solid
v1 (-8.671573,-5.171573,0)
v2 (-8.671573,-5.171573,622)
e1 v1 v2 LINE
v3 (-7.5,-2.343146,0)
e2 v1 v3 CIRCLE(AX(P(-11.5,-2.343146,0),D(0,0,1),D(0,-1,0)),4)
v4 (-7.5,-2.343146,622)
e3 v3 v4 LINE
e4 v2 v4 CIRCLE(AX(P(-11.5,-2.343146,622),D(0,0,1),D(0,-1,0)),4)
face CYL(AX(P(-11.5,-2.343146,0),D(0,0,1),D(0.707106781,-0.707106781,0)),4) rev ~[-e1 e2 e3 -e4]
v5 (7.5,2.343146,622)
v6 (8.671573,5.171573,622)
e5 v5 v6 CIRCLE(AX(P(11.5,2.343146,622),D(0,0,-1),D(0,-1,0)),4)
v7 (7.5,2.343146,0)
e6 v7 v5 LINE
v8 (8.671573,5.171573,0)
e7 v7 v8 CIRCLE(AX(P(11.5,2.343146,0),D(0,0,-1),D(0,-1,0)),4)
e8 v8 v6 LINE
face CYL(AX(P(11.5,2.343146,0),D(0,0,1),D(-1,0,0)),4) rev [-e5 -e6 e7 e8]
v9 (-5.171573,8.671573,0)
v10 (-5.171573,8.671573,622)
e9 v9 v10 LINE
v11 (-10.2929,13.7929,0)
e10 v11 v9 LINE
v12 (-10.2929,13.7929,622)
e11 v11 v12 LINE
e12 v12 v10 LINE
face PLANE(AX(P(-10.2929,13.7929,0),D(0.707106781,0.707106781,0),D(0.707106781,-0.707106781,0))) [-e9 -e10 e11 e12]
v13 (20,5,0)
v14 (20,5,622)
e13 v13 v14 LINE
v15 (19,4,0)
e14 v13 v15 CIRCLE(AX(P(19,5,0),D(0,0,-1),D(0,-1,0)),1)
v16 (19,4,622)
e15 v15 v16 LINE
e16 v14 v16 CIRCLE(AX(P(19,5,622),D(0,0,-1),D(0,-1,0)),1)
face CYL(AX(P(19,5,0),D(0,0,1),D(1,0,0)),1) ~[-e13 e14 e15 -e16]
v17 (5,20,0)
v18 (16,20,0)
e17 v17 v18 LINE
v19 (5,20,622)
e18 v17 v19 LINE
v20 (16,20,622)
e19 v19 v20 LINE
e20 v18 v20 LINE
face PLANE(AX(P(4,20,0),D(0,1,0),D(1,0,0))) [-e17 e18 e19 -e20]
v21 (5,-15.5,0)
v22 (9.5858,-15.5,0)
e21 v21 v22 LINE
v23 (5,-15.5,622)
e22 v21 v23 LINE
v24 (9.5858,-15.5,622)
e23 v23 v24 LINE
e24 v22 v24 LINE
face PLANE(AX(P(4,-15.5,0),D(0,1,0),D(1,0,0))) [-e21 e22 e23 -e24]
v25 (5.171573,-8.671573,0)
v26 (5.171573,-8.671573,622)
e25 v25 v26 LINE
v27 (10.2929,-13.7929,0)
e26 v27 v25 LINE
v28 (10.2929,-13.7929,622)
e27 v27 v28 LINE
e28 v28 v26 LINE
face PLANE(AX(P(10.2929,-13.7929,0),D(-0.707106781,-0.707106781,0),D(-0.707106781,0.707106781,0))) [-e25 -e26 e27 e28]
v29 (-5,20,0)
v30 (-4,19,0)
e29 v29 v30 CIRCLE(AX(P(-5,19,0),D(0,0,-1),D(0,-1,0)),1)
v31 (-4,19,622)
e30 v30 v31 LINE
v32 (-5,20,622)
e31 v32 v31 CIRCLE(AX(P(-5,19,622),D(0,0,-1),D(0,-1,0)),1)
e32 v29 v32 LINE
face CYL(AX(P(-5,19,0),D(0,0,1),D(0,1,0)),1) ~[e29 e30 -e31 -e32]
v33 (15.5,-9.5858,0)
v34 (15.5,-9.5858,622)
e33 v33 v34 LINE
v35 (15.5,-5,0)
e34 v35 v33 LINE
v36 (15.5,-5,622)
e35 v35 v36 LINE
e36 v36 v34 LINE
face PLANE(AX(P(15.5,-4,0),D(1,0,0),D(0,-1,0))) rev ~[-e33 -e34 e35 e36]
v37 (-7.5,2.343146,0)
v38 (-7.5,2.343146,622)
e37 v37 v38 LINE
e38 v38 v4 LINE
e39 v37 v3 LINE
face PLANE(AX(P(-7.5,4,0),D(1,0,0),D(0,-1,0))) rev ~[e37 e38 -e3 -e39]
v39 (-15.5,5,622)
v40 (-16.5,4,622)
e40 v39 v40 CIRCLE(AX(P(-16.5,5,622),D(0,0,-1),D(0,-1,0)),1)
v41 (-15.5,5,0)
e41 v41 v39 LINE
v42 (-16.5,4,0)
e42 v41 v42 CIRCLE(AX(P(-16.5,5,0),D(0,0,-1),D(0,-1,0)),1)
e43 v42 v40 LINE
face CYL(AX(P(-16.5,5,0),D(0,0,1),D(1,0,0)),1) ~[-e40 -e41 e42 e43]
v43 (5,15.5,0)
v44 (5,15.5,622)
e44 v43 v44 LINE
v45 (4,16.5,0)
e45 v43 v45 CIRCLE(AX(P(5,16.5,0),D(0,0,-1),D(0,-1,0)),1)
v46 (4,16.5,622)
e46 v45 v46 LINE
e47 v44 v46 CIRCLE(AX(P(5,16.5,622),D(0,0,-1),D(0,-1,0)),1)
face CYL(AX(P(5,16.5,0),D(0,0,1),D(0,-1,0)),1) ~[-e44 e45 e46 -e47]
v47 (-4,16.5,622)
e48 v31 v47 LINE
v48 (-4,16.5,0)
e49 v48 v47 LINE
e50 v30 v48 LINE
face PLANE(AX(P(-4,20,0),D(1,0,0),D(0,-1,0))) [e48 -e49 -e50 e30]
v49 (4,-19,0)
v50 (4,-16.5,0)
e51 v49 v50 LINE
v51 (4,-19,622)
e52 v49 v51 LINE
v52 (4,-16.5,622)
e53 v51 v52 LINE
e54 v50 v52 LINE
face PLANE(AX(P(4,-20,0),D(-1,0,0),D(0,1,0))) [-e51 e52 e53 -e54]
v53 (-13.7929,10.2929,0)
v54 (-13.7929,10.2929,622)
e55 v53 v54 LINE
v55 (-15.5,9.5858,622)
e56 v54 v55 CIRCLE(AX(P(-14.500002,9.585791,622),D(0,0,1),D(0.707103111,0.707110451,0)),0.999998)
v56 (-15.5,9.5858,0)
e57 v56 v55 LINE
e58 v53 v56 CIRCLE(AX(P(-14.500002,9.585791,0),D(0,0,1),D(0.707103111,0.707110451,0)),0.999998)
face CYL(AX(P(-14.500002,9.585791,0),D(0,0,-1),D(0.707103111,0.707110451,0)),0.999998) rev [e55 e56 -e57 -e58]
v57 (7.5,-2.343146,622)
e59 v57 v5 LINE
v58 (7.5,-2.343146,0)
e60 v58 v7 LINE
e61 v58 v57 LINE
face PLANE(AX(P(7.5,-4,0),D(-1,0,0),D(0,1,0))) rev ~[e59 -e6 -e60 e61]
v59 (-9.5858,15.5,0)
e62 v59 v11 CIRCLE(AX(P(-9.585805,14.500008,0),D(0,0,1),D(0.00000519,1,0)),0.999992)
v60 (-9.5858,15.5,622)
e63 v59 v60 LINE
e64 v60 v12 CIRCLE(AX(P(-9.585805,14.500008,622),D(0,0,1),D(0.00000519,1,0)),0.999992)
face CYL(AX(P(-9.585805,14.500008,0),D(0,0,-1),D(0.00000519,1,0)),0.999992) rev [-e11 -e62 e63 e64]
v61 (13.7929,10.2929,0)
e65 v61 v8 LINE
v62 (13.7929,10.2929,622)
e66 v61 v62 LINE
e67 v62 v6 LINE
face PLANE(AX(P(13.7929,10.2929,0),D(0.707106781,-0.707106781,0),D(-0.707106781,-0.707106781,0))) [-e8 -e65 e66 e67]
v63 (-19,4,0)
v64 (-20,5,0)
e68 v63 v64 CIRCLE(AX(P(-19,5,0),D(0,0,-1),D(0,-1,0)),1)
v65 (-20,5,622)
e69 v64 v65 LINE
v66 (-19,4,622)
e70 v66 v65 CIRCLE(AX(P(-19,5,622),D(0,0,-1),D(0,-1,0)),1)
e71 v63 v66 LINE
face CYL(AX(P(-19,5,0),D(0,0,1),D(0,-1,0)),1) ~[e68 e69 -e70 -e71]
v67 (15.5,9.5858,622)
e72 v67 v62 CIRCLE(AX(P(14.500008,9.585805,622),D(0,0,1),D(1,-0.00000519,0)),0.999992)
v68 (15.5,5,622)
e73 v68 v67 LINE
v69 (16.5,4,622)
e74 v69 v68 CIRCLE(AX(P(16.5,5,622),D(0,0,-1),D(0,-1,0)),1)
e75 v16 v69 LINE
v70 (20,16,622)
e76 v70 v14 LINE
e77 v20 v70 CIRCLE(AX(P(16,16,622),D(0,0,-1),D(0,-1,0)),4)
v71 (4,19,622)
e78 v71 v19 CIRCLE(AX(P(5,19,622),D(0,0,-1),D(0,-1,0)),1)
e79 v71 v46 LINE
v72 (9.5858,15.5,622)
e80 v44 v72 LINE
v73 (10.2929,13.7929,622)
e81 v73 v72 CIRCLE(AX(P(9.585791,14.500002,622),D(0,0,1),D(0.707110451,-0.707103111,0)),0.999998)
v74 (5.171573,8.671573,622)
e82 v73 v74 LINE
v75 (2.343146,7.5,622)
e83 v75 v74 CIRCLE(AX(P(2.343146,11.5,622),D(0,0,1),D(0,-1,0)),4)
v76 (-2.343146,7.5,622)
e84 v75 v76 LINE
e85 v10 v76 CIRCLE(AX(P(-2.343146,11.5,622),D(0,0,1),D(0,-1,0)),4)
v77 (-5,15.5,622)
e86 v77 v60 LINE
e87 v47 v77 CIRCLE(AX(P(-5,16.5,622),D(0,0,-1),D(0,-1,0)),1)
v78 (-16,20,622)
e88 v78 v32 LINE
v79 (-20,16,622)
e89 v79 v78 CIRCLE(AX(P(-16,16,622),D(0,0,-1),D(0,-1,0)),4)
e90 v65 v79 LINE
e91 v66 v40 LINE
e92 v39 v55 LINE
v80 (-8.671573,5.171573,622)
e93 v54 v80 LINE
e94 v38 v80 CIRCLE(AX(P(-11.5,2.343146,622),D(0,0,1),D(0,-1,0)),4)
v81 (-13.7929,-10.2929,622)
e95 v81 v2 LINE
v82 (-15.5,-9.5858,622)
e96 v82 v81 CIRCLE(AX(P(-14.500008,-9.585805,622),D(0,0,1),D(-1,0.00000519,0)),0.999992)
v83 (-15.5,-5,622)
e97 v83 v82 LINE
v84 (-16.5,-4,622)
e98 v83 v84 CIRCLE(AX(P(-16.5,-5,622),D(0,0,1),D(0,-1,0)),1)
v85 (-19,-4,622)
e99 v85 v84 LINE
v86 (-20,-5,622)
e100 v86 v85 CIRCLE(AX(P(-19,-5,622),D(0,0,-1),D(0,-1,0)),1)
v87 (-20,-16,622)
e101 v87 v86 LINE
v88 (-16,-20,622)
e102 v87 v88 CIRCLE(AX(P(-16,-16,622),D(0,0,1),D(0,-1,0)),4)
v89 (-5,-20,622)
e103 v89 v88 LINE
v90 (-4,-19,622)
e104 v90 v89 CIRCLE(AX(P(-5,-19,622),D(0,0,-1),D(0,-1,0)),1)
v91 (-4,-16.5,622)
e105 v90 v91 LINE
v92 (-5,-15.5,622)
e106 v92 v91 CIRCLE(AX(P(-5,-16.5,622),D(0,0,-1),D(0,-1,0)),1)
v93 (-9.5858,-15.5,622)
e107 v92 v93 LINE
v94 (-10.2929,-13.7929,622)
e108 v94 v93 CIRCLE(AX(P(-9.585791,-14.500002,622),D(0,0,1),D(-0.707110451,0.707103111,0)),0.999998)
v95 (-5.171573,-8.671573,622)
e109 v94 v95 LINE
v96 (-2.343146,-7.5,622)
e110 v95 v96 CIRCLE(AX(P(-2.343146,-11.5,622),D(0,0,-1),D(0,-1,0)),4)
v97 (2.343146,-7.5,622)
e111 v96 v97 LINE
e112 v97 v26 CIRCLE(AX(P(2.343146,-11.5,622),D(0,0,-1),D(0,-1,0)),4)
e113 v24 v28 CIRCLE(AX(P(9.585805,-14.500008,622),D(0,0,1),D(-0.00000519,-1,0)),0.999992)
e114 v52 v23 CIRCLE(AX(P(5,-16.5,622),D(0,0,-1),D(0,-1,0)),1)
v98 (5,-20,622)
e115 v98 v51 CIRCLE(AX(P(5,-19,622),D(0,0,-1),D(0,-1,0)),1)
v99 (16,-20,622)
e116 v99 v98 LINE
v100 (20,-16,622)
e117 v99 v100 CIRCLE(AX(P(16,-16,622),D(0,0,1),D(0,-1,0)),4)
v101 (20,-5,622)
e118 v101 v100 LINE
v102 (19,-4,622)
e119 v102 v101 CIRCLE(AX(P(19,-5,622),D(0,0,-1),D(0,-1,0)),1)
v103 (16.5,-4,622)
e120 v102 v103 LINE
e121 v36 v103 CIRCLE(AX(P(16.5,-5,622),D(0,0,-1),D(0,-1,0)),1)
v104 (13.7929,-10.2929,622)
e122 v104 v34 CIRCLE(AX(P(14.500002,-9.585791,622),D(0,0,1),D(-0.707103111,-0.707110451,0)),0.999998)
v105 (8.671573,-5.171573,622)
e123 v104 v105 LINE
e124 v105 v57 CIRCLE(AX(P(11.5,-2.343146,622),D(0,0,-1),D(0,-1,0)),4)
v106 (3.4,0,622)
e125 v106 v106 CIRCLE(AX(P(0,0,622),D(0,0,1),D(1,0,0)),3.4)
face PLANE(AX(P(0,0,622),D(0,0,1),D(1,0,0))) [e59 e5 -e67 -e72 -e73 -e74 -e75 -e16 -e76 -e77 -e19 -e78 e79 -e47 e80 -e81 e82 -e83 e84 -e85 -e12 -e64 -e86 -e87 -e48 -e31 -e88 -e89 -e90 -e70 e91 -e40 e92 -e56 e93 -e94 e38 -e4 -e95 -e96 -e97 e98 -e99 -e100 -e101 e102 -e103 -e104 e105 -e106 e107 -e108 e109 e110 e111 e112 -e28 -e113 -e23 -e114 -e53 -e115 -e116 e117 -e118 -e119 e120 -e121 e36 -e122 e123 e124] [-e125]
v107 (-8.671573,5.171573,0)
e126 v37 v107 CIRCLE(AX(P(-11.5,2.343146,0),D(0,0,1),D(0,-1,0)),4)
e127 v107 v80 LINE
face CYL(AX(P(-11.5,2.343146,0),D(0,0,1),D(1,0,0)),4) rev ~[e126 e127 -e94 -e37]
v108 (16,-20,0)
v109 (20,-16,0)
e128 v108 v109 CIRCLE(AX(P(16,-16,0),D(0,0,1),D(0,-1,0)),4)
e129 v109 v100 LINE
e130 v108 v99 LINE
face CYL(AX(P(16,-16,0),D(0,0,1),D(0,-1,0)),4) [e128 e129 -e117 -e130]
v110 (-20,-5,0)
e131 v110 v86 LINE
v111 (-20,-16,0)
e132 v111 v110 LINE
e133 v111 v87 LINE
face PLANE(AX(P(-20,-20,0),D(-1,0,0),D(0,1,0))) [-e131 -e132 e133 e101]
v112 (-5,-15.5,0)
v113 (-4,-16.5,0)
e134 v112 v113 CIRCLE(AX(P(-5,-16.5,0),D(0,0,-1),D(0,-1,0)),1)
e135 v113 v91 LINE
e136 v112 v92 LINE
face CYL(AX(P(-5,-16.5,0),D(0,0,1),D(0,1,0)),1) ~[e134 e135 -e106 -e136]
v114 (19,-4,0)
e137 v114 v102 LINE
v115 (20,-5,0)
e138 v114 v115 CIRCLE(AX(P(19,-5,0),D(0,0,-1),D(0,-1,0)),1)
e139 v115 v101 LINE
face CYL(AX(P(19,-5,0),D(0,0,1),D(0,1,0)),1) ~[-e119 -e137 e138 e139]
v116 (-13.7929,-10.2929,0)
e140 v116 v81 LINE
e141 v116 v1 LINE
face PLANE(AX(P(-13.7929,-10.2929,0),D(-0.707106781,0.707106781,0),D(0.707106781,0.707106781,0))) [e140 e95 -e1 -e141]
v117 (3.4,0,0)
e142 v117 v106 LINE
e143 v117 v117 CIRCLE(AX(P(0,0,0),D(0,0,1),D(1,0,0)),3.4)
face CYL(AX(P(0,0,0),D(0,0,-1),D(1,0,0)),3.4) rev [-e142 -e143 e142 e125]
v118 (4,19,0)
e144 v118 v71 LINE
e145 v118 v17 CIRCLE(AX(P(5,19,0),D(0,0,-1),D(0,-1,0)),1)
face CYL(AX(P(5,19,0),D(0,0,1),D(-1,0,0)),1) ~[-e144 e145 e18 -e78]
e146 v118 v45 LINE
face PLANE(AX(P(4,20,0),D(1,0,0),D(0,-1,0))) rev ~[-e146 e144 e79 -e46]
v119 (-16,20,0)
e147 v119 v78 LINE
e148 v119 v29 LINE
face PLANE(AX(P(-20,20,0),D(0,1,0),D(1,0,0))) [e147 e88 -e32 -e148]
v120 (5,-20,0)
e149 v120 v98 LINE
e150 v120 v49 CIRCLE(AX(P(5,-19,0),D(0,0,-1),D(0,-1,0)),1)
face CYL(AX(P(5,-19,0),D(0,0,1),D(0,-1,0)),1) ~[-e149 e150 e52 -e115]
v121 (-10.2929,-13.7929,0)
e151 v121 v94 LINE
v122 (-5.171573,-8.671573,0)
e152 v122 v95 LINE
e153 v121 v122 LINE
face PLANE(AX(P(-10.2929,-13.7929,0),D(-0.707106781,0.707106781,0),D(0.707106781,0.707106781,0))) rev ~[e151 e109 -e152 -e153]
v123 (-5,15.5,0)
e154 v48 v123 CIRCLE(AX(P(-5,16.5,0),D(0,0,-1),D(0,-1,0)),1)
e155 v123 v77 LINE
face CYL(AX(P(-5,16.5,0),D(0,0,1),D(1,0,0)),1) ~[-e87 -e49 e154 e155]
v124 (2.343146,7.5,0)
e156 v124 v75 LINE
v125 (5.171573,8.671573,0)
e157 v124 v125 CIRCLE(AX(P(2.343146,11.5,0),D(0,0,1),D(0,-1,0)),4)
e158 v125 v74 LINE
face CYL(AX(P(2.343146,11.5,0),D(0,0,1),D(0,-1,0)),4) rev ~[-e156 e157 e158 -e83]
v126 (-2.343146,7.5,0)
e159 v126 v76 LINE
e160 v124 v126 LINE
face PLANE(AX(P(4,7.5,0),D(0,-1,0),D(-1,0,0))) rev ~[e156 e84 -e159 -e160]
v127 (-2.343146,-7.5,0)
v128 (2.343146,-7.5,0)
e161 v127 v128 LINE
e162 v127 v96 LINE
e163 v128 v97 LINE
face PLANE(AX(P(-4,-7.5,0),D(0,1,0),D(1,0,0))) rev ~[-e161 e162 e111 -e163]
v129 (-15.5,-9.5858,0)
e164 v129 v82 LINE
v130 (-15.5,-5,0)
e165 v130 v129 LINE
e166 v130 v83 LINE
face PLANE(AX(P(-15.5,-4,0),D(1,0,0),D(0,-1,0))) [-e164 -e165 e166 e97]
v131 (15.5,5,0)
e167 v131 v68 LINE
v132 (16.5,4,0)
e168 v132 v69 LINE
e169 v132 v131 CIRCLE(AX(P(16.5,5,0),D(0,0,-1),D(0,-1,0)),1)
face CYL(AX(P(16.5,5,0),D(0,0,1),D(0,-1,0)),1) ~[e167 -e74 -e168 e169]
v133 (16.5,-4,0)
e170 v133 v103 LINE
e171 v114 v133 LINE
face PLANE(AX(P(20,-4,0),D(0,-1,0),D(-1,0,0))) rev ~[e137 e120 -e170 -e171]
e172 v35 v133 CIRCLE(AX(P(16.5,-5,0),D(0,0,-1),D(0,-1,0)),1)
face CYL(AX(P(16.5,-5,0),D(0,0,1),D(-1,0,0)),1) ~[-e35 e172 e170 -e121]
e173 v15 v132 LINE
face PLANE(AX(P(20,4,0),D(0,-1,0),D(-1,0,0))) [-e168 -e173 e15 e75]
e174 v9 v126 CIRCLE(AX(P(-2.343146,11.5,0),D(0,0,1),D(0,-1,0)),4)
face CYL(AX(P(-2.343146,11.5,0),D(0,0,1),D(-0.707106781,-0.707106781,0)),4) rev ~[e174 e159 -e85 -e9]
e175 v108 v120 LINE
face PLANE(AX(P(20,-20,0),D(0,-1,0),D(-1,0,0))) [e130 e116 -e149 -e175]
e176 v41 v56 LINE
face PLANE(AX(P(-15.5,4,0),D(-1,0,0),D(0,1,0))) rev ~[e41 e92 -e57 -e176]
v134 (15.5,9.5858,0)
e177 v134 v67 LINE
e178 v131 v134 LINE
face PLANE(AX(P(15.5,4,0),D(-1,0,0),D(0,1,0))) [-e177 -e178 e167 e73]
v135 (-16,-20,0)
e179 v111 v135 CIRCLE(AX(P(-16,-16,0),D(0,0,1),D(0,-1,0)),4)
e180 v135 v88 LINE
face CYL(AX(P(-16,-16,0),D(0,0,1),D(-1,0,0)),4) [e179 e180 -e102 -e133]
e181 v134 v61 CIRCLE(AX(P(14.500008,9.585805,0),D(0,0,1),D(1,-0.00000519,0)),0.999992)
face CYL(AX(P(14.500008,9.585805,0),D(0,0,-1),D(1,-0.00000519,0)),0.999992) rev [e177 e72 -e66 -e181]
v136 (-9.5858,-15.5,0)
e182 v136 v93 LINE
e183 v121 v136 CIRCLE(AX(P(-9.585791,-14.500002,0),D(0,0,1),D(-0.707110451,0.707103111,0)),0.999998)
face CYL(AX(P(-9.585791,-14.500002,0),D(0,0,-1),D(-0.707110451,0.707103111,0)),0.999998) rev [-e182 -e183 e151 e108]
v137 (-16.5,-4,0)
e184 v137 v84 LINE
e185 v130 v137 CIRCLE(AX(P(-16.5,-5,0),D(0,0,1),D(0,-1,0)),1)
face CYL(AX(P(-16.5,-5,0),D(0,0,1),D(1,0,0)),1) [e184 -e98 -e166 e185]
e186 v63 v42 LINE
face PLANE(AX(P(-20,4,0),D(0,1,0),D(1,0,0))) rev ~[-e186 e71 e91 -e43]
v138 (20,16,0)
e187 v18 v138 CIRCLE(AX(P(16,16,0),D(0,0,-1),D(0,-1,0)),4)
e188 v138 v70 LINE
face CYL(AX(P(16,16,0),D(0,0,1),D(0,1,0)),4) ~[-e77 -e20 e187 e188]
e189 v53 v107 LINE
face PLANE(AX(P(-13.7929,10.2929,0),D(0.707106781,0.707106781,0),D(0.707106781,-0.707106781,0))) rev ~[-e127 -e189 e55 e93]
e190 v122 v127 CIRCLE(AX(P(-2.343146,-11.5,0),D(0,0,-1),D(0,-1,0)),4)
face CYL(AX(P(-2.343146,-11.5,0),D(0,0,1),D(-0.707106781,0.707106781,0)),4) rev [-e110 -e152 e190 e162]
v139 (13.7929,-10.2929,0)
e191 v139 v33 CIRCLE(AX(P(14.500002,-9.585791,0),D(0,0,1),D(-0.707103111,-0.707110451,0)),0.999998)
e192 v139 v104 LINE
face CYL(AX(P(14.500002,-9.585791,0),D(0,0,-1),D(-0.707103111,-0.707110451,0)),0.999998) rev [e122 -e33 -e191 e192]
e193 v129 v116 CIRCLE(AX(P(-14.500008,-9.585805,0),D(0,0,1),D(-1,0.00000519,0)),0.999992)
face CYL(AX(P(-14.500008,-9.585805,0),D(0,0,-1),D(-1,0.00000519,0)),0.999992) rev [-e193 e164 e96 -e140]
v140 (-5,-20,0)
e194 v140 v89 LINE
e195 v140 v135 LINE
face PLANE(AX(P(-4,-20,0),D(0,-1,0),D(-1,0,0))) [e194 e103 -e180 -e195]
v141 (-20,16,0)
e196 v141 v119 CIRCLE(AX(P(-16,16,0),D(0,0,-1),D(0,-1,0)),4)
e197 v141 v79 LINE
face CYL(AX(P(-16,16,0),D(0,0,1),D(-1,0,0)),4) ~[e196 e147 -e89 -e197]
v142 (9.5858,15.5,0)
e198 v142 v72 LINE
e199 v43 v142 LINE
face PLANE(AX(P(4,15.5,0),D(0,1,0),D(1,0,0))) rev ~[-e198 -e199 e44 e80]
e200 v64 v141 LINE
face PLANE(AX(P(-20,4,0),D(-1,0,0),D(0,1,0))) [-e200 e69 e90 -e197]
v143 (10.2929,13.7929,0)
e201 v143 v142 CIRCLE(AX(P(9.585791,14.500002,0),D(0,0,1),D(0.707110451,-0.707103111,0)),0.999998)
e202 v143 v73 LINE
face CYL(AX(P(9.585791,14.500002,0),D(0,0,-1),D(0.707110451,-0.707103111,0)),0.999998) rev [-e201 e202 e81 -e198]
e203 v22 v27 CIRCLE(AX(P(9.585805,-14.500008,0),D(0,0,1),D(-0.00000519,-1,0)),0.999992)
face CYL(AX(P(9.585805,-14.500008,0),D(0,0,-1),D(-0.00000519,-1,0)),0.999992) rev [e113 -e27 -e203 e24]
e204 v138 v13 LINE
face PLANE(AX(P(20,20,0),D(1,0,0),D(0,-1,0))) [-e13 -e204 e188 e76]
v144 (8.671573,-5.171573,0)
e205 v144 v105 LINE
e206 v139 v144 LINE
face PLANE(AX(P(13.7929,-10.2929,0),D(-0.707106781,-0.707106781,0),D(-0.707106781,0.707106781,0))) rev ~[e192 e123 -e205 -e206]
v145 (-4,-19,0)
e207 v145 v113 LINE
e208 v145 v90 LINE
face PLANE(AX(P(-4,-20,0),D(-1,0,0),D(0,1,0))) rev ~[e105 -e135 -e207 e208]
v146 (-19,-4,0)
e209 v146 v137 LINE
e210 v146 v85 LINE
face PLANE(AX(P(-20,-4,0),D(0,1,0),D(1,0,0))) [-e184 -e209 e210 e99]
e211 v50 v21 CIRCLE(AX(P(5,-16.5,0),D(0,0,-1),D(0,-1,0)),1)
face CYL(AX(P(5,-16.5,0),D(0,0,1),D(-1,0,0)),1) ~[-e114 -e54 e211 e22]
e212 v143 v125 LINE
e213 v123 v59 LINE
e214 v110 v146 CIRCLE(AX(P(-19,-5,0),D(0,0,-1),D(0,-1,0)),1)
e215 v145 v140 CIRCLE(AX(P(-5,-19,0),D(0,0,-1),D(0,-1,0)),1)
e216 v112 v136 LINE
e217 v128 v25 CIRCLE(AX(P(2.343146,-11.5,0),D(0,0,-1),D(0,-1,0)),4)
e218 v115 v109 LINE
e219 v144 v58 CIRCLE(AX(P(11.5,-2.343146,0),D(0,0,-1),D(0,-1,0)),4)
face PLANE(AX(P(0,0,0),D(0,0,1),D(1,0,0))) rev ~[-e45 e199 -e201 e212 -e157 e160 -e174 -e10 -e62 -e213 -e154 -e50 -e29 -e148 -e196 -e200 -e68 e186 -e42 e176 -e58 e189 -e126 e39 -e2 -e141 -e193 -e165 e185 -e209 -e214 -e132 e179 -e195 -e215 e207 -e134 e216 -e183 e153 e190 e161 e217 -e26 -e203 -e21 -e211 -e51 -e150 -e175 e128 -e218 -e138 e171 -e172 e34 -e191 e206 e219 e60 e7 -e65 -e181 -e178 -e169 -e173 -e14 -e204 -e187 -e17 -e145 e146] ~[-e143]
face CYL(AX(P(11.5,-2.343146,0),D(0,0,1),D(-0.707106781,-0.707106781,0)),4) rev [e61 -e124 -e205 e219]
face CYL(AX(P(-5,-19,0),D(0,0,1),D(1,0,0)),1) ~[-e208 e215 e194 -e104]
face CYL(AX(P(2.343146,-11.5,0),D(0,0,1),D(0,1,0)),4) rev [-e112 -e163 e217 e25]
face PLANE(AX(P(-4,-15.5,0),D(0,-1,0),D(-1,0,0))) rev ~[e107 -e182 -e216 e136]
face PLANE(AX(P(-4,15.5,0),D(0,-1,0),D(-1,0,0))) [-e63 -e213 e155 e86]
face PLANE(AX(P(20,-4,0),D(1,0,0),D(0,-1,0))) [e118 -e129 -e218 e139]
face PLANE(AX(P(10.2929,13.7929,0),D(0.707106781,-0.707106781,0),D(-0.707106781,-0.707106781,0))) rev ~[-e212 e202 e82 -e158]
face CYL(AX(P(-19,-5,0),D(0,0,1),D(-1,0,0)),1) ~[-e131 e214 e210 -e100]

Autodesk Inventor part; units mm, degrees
ref_plane "YZ Plane" through (0, 0, 0) normal (1, 0, 0) x (0, 1, 0)
ref_plane "XZ Plane" through (0, 0, 0) normal (0, 1, 0) x (-1, 0, 0)
ref_plane "XY Plane" through (0, 0, 0) normal (0, 0, 1) x (1, 0, 0)
sketch "T-Slot 4040 Base" plane through (0, 0, 0) normal (0, 0, 1) x (1, 0, 0)
  line L0 (-28, 0) -> (28, 0) construction
  line L1 (0, -28) -> (0, 28) construction
  circle A0 centre (0, 0) radius 3.4
  line L2 (-7.5, -7.5) -> (7.5, -7.5)
  line L3 (7.5, -7.5) -> (7.5, 7.5)
  line L4 (7.5, 7.5) -> (-7.5, 7.5)
  line L5 (-7.5, 7.5) -> (-7.5, -7.5)
  line L6 (-7.5, -7.5) -> (7.5, 7.5) construction
  line L7 (7.5, -7.5) -> (-7.5, 7.5) construction
  line L8 (20, 4) -> (15.5, 4)
  line L9 (15.5, 4) -> (15.5, 12)
  line L10 (15.5, 12) -> (7.5, 4)
  line L11 (4, 20) -> (4, 15.5)
  line L12 (4, 15.5) -> (12, 15.5)
  line L13 (12, 15.5) -> (4, 7.5)
  line L14 (7.5, -7.5) -> (-7.5, -7.5)
  arc A1 (15.5, 9.5858) -> (13.7929, 10.2929) centre (14.5, 9.5858) ccw
  arc A2 (10.2929, 13.7929) -> (9.5858, 15.5) centre (9.5858, 14.5) ccw
  line L15 (-20, 20) -> (20, 20)
  line L16 (20, 20) -> (20, -20)
  line L17 (20, -20) -> (-20, -20)
  line L18 (-20, -20) -> (-20, 20)
  line L19 (-20, 20) -> (20, -20) construction
  line L20 (20, 20) -> (-20, -20) construction
  line L21 (-4, 15.5) -> (-12, 15.5)
  arc A3 (-9.5858, 15.5) -> (-10.2929, 13.7929) centre (-9.5858, 14.5) ccw
  line L22 (-12, 15.5) -> (-4, 7.5)
  line L23 (-15.5, 12) -> (-7.5, 4)
  line L24 (-20, 4) -> (-15.5, 4)
  arc A4 (-13.7929, 10.2929) -> (-15.5, 9.5858) centre (-14.5, 9.5858) ccw
  line L25 (-15.5, 4) -> (-15.5, 12)
  line L26 (-4, 20) -> (-4, 15.5)
  line L27 (-15.5, -4) -> (-15.5, -12)
  arc A5 (-15.5, -9.5858) -> (-13.7929, -10.2929) centre (-14.5, -9.5858) ccw
  line L28 (-15.5, -12) -> (-7.5, -4)
  line L29 (-12, -15.5) -> (-4, -7.5)
  line L30 (-4, -20) -> (-4, -15.5)
  arc A6 (-10.2929, -13.7929) -> (-9.5858, -15.5) centre (-9.5858, -14.5) ccw
  line L31 (-4, -15.5) -> (-12, -15.5)
  line L32 (-20, -4) -> (-15.5, -4)
  line L33 (4, -15.5) -> (12, -15.5)
  arc A7 (9.5858, -15.5) -> (10.2929, -13.7929) centre (9.5858, -14.5) ccw
  line L34 (12, -15.5) -> (4, -7.5)
  line L35 (15.5, -12) -> (7.5, -4)
  line L36 (20, -4) -> (15.5, -4)
  arc A8 (13.7929, -10.2929) -> (15.5, -9.5858) centre (14.5, -9.5858) ccw
  line L37 (15.5, -4) -> (15.5, -12)
  line L38 (4, -20) -> (4, -15.5)
  point P0 (4.9274, 7.75)
  point P1 (9.5858, 15.5)
  point P2 (-20, 20)
  point P3 (-7.5, -7.5)
  point P4 (-20, -20)
  point P5 (7.5, -7.5)
  point P6 (20, -20)
  point P7 (-9.5858, -15.5)
  point P8 (-4, -7.5)
  point P9 (15.5, -9.5858)
  point P10 (7.5, -4)
  point P11 (-15.5, 9.5858)
  point P12 (-4, 7.5)
  dimension "d35" = 6.8
  dimension "d37" = 12
  dimension "d38" = 1
  dimension "d43" = 40
  dimension "d44" = 40
  dimension "d45" = 4.5
  dimension "d46" = 4
  dimension "d53" = 360
extrude "Extrusion1" add sketch "T-Slot 4040 Base" along normal blind 622 contours L5 L4 L3 L2 | L2 L29 L31 L30 L17 L18 L32 L27 L28 L5 | L2 L3 L35 L37 L36 L16 L17 L38 L33 L34 | A6 L31 L29 | L23 L25 L24 L18 L15 L26 L21 L22 L4 L5 | L28 L27 A5 | L34 L33 A7 | A4 L25 L23 | L3 L4 L13 L12 L11 L15 L16 L8 L9 L10 | A8 L37 L35 | L22 L21 A3 | L10 L9 A1 | A2 L12 L13
fillet "Rundung1" radius 1 16 edges at (4, 15.5, 311) (15.5, 4, 311) (20, 4, 311) (4, 20, 311) (-20, 4, 311) (-15.5, 4, 311) (-4, 15.5, 311) (-4, 20, 311) (-4, -15.5, 311) (-4, -20, 311) (4, -15.5, 311) (4, -20, 311) (15.5, -4, 311) (20, -4, 311) (-20, -4, 311) (-15.5, -4, 311)
fillet "Rundung2" radius 4 12 edges at (4, 7.5, 311) (7.5, 4, 311) (-20, 20, 311) (-20, -20, 311) (20, 20, 311) (20, -20, 311) (7.5, -4, 311) (-7.5, -4, 311) (-7.5, 4, 311) (4, -7.5, 311) (-4, -7.5, 311) (-4, 7.5, 311)
properties part number "T-SLOT 4040 B-Type 622mm"
